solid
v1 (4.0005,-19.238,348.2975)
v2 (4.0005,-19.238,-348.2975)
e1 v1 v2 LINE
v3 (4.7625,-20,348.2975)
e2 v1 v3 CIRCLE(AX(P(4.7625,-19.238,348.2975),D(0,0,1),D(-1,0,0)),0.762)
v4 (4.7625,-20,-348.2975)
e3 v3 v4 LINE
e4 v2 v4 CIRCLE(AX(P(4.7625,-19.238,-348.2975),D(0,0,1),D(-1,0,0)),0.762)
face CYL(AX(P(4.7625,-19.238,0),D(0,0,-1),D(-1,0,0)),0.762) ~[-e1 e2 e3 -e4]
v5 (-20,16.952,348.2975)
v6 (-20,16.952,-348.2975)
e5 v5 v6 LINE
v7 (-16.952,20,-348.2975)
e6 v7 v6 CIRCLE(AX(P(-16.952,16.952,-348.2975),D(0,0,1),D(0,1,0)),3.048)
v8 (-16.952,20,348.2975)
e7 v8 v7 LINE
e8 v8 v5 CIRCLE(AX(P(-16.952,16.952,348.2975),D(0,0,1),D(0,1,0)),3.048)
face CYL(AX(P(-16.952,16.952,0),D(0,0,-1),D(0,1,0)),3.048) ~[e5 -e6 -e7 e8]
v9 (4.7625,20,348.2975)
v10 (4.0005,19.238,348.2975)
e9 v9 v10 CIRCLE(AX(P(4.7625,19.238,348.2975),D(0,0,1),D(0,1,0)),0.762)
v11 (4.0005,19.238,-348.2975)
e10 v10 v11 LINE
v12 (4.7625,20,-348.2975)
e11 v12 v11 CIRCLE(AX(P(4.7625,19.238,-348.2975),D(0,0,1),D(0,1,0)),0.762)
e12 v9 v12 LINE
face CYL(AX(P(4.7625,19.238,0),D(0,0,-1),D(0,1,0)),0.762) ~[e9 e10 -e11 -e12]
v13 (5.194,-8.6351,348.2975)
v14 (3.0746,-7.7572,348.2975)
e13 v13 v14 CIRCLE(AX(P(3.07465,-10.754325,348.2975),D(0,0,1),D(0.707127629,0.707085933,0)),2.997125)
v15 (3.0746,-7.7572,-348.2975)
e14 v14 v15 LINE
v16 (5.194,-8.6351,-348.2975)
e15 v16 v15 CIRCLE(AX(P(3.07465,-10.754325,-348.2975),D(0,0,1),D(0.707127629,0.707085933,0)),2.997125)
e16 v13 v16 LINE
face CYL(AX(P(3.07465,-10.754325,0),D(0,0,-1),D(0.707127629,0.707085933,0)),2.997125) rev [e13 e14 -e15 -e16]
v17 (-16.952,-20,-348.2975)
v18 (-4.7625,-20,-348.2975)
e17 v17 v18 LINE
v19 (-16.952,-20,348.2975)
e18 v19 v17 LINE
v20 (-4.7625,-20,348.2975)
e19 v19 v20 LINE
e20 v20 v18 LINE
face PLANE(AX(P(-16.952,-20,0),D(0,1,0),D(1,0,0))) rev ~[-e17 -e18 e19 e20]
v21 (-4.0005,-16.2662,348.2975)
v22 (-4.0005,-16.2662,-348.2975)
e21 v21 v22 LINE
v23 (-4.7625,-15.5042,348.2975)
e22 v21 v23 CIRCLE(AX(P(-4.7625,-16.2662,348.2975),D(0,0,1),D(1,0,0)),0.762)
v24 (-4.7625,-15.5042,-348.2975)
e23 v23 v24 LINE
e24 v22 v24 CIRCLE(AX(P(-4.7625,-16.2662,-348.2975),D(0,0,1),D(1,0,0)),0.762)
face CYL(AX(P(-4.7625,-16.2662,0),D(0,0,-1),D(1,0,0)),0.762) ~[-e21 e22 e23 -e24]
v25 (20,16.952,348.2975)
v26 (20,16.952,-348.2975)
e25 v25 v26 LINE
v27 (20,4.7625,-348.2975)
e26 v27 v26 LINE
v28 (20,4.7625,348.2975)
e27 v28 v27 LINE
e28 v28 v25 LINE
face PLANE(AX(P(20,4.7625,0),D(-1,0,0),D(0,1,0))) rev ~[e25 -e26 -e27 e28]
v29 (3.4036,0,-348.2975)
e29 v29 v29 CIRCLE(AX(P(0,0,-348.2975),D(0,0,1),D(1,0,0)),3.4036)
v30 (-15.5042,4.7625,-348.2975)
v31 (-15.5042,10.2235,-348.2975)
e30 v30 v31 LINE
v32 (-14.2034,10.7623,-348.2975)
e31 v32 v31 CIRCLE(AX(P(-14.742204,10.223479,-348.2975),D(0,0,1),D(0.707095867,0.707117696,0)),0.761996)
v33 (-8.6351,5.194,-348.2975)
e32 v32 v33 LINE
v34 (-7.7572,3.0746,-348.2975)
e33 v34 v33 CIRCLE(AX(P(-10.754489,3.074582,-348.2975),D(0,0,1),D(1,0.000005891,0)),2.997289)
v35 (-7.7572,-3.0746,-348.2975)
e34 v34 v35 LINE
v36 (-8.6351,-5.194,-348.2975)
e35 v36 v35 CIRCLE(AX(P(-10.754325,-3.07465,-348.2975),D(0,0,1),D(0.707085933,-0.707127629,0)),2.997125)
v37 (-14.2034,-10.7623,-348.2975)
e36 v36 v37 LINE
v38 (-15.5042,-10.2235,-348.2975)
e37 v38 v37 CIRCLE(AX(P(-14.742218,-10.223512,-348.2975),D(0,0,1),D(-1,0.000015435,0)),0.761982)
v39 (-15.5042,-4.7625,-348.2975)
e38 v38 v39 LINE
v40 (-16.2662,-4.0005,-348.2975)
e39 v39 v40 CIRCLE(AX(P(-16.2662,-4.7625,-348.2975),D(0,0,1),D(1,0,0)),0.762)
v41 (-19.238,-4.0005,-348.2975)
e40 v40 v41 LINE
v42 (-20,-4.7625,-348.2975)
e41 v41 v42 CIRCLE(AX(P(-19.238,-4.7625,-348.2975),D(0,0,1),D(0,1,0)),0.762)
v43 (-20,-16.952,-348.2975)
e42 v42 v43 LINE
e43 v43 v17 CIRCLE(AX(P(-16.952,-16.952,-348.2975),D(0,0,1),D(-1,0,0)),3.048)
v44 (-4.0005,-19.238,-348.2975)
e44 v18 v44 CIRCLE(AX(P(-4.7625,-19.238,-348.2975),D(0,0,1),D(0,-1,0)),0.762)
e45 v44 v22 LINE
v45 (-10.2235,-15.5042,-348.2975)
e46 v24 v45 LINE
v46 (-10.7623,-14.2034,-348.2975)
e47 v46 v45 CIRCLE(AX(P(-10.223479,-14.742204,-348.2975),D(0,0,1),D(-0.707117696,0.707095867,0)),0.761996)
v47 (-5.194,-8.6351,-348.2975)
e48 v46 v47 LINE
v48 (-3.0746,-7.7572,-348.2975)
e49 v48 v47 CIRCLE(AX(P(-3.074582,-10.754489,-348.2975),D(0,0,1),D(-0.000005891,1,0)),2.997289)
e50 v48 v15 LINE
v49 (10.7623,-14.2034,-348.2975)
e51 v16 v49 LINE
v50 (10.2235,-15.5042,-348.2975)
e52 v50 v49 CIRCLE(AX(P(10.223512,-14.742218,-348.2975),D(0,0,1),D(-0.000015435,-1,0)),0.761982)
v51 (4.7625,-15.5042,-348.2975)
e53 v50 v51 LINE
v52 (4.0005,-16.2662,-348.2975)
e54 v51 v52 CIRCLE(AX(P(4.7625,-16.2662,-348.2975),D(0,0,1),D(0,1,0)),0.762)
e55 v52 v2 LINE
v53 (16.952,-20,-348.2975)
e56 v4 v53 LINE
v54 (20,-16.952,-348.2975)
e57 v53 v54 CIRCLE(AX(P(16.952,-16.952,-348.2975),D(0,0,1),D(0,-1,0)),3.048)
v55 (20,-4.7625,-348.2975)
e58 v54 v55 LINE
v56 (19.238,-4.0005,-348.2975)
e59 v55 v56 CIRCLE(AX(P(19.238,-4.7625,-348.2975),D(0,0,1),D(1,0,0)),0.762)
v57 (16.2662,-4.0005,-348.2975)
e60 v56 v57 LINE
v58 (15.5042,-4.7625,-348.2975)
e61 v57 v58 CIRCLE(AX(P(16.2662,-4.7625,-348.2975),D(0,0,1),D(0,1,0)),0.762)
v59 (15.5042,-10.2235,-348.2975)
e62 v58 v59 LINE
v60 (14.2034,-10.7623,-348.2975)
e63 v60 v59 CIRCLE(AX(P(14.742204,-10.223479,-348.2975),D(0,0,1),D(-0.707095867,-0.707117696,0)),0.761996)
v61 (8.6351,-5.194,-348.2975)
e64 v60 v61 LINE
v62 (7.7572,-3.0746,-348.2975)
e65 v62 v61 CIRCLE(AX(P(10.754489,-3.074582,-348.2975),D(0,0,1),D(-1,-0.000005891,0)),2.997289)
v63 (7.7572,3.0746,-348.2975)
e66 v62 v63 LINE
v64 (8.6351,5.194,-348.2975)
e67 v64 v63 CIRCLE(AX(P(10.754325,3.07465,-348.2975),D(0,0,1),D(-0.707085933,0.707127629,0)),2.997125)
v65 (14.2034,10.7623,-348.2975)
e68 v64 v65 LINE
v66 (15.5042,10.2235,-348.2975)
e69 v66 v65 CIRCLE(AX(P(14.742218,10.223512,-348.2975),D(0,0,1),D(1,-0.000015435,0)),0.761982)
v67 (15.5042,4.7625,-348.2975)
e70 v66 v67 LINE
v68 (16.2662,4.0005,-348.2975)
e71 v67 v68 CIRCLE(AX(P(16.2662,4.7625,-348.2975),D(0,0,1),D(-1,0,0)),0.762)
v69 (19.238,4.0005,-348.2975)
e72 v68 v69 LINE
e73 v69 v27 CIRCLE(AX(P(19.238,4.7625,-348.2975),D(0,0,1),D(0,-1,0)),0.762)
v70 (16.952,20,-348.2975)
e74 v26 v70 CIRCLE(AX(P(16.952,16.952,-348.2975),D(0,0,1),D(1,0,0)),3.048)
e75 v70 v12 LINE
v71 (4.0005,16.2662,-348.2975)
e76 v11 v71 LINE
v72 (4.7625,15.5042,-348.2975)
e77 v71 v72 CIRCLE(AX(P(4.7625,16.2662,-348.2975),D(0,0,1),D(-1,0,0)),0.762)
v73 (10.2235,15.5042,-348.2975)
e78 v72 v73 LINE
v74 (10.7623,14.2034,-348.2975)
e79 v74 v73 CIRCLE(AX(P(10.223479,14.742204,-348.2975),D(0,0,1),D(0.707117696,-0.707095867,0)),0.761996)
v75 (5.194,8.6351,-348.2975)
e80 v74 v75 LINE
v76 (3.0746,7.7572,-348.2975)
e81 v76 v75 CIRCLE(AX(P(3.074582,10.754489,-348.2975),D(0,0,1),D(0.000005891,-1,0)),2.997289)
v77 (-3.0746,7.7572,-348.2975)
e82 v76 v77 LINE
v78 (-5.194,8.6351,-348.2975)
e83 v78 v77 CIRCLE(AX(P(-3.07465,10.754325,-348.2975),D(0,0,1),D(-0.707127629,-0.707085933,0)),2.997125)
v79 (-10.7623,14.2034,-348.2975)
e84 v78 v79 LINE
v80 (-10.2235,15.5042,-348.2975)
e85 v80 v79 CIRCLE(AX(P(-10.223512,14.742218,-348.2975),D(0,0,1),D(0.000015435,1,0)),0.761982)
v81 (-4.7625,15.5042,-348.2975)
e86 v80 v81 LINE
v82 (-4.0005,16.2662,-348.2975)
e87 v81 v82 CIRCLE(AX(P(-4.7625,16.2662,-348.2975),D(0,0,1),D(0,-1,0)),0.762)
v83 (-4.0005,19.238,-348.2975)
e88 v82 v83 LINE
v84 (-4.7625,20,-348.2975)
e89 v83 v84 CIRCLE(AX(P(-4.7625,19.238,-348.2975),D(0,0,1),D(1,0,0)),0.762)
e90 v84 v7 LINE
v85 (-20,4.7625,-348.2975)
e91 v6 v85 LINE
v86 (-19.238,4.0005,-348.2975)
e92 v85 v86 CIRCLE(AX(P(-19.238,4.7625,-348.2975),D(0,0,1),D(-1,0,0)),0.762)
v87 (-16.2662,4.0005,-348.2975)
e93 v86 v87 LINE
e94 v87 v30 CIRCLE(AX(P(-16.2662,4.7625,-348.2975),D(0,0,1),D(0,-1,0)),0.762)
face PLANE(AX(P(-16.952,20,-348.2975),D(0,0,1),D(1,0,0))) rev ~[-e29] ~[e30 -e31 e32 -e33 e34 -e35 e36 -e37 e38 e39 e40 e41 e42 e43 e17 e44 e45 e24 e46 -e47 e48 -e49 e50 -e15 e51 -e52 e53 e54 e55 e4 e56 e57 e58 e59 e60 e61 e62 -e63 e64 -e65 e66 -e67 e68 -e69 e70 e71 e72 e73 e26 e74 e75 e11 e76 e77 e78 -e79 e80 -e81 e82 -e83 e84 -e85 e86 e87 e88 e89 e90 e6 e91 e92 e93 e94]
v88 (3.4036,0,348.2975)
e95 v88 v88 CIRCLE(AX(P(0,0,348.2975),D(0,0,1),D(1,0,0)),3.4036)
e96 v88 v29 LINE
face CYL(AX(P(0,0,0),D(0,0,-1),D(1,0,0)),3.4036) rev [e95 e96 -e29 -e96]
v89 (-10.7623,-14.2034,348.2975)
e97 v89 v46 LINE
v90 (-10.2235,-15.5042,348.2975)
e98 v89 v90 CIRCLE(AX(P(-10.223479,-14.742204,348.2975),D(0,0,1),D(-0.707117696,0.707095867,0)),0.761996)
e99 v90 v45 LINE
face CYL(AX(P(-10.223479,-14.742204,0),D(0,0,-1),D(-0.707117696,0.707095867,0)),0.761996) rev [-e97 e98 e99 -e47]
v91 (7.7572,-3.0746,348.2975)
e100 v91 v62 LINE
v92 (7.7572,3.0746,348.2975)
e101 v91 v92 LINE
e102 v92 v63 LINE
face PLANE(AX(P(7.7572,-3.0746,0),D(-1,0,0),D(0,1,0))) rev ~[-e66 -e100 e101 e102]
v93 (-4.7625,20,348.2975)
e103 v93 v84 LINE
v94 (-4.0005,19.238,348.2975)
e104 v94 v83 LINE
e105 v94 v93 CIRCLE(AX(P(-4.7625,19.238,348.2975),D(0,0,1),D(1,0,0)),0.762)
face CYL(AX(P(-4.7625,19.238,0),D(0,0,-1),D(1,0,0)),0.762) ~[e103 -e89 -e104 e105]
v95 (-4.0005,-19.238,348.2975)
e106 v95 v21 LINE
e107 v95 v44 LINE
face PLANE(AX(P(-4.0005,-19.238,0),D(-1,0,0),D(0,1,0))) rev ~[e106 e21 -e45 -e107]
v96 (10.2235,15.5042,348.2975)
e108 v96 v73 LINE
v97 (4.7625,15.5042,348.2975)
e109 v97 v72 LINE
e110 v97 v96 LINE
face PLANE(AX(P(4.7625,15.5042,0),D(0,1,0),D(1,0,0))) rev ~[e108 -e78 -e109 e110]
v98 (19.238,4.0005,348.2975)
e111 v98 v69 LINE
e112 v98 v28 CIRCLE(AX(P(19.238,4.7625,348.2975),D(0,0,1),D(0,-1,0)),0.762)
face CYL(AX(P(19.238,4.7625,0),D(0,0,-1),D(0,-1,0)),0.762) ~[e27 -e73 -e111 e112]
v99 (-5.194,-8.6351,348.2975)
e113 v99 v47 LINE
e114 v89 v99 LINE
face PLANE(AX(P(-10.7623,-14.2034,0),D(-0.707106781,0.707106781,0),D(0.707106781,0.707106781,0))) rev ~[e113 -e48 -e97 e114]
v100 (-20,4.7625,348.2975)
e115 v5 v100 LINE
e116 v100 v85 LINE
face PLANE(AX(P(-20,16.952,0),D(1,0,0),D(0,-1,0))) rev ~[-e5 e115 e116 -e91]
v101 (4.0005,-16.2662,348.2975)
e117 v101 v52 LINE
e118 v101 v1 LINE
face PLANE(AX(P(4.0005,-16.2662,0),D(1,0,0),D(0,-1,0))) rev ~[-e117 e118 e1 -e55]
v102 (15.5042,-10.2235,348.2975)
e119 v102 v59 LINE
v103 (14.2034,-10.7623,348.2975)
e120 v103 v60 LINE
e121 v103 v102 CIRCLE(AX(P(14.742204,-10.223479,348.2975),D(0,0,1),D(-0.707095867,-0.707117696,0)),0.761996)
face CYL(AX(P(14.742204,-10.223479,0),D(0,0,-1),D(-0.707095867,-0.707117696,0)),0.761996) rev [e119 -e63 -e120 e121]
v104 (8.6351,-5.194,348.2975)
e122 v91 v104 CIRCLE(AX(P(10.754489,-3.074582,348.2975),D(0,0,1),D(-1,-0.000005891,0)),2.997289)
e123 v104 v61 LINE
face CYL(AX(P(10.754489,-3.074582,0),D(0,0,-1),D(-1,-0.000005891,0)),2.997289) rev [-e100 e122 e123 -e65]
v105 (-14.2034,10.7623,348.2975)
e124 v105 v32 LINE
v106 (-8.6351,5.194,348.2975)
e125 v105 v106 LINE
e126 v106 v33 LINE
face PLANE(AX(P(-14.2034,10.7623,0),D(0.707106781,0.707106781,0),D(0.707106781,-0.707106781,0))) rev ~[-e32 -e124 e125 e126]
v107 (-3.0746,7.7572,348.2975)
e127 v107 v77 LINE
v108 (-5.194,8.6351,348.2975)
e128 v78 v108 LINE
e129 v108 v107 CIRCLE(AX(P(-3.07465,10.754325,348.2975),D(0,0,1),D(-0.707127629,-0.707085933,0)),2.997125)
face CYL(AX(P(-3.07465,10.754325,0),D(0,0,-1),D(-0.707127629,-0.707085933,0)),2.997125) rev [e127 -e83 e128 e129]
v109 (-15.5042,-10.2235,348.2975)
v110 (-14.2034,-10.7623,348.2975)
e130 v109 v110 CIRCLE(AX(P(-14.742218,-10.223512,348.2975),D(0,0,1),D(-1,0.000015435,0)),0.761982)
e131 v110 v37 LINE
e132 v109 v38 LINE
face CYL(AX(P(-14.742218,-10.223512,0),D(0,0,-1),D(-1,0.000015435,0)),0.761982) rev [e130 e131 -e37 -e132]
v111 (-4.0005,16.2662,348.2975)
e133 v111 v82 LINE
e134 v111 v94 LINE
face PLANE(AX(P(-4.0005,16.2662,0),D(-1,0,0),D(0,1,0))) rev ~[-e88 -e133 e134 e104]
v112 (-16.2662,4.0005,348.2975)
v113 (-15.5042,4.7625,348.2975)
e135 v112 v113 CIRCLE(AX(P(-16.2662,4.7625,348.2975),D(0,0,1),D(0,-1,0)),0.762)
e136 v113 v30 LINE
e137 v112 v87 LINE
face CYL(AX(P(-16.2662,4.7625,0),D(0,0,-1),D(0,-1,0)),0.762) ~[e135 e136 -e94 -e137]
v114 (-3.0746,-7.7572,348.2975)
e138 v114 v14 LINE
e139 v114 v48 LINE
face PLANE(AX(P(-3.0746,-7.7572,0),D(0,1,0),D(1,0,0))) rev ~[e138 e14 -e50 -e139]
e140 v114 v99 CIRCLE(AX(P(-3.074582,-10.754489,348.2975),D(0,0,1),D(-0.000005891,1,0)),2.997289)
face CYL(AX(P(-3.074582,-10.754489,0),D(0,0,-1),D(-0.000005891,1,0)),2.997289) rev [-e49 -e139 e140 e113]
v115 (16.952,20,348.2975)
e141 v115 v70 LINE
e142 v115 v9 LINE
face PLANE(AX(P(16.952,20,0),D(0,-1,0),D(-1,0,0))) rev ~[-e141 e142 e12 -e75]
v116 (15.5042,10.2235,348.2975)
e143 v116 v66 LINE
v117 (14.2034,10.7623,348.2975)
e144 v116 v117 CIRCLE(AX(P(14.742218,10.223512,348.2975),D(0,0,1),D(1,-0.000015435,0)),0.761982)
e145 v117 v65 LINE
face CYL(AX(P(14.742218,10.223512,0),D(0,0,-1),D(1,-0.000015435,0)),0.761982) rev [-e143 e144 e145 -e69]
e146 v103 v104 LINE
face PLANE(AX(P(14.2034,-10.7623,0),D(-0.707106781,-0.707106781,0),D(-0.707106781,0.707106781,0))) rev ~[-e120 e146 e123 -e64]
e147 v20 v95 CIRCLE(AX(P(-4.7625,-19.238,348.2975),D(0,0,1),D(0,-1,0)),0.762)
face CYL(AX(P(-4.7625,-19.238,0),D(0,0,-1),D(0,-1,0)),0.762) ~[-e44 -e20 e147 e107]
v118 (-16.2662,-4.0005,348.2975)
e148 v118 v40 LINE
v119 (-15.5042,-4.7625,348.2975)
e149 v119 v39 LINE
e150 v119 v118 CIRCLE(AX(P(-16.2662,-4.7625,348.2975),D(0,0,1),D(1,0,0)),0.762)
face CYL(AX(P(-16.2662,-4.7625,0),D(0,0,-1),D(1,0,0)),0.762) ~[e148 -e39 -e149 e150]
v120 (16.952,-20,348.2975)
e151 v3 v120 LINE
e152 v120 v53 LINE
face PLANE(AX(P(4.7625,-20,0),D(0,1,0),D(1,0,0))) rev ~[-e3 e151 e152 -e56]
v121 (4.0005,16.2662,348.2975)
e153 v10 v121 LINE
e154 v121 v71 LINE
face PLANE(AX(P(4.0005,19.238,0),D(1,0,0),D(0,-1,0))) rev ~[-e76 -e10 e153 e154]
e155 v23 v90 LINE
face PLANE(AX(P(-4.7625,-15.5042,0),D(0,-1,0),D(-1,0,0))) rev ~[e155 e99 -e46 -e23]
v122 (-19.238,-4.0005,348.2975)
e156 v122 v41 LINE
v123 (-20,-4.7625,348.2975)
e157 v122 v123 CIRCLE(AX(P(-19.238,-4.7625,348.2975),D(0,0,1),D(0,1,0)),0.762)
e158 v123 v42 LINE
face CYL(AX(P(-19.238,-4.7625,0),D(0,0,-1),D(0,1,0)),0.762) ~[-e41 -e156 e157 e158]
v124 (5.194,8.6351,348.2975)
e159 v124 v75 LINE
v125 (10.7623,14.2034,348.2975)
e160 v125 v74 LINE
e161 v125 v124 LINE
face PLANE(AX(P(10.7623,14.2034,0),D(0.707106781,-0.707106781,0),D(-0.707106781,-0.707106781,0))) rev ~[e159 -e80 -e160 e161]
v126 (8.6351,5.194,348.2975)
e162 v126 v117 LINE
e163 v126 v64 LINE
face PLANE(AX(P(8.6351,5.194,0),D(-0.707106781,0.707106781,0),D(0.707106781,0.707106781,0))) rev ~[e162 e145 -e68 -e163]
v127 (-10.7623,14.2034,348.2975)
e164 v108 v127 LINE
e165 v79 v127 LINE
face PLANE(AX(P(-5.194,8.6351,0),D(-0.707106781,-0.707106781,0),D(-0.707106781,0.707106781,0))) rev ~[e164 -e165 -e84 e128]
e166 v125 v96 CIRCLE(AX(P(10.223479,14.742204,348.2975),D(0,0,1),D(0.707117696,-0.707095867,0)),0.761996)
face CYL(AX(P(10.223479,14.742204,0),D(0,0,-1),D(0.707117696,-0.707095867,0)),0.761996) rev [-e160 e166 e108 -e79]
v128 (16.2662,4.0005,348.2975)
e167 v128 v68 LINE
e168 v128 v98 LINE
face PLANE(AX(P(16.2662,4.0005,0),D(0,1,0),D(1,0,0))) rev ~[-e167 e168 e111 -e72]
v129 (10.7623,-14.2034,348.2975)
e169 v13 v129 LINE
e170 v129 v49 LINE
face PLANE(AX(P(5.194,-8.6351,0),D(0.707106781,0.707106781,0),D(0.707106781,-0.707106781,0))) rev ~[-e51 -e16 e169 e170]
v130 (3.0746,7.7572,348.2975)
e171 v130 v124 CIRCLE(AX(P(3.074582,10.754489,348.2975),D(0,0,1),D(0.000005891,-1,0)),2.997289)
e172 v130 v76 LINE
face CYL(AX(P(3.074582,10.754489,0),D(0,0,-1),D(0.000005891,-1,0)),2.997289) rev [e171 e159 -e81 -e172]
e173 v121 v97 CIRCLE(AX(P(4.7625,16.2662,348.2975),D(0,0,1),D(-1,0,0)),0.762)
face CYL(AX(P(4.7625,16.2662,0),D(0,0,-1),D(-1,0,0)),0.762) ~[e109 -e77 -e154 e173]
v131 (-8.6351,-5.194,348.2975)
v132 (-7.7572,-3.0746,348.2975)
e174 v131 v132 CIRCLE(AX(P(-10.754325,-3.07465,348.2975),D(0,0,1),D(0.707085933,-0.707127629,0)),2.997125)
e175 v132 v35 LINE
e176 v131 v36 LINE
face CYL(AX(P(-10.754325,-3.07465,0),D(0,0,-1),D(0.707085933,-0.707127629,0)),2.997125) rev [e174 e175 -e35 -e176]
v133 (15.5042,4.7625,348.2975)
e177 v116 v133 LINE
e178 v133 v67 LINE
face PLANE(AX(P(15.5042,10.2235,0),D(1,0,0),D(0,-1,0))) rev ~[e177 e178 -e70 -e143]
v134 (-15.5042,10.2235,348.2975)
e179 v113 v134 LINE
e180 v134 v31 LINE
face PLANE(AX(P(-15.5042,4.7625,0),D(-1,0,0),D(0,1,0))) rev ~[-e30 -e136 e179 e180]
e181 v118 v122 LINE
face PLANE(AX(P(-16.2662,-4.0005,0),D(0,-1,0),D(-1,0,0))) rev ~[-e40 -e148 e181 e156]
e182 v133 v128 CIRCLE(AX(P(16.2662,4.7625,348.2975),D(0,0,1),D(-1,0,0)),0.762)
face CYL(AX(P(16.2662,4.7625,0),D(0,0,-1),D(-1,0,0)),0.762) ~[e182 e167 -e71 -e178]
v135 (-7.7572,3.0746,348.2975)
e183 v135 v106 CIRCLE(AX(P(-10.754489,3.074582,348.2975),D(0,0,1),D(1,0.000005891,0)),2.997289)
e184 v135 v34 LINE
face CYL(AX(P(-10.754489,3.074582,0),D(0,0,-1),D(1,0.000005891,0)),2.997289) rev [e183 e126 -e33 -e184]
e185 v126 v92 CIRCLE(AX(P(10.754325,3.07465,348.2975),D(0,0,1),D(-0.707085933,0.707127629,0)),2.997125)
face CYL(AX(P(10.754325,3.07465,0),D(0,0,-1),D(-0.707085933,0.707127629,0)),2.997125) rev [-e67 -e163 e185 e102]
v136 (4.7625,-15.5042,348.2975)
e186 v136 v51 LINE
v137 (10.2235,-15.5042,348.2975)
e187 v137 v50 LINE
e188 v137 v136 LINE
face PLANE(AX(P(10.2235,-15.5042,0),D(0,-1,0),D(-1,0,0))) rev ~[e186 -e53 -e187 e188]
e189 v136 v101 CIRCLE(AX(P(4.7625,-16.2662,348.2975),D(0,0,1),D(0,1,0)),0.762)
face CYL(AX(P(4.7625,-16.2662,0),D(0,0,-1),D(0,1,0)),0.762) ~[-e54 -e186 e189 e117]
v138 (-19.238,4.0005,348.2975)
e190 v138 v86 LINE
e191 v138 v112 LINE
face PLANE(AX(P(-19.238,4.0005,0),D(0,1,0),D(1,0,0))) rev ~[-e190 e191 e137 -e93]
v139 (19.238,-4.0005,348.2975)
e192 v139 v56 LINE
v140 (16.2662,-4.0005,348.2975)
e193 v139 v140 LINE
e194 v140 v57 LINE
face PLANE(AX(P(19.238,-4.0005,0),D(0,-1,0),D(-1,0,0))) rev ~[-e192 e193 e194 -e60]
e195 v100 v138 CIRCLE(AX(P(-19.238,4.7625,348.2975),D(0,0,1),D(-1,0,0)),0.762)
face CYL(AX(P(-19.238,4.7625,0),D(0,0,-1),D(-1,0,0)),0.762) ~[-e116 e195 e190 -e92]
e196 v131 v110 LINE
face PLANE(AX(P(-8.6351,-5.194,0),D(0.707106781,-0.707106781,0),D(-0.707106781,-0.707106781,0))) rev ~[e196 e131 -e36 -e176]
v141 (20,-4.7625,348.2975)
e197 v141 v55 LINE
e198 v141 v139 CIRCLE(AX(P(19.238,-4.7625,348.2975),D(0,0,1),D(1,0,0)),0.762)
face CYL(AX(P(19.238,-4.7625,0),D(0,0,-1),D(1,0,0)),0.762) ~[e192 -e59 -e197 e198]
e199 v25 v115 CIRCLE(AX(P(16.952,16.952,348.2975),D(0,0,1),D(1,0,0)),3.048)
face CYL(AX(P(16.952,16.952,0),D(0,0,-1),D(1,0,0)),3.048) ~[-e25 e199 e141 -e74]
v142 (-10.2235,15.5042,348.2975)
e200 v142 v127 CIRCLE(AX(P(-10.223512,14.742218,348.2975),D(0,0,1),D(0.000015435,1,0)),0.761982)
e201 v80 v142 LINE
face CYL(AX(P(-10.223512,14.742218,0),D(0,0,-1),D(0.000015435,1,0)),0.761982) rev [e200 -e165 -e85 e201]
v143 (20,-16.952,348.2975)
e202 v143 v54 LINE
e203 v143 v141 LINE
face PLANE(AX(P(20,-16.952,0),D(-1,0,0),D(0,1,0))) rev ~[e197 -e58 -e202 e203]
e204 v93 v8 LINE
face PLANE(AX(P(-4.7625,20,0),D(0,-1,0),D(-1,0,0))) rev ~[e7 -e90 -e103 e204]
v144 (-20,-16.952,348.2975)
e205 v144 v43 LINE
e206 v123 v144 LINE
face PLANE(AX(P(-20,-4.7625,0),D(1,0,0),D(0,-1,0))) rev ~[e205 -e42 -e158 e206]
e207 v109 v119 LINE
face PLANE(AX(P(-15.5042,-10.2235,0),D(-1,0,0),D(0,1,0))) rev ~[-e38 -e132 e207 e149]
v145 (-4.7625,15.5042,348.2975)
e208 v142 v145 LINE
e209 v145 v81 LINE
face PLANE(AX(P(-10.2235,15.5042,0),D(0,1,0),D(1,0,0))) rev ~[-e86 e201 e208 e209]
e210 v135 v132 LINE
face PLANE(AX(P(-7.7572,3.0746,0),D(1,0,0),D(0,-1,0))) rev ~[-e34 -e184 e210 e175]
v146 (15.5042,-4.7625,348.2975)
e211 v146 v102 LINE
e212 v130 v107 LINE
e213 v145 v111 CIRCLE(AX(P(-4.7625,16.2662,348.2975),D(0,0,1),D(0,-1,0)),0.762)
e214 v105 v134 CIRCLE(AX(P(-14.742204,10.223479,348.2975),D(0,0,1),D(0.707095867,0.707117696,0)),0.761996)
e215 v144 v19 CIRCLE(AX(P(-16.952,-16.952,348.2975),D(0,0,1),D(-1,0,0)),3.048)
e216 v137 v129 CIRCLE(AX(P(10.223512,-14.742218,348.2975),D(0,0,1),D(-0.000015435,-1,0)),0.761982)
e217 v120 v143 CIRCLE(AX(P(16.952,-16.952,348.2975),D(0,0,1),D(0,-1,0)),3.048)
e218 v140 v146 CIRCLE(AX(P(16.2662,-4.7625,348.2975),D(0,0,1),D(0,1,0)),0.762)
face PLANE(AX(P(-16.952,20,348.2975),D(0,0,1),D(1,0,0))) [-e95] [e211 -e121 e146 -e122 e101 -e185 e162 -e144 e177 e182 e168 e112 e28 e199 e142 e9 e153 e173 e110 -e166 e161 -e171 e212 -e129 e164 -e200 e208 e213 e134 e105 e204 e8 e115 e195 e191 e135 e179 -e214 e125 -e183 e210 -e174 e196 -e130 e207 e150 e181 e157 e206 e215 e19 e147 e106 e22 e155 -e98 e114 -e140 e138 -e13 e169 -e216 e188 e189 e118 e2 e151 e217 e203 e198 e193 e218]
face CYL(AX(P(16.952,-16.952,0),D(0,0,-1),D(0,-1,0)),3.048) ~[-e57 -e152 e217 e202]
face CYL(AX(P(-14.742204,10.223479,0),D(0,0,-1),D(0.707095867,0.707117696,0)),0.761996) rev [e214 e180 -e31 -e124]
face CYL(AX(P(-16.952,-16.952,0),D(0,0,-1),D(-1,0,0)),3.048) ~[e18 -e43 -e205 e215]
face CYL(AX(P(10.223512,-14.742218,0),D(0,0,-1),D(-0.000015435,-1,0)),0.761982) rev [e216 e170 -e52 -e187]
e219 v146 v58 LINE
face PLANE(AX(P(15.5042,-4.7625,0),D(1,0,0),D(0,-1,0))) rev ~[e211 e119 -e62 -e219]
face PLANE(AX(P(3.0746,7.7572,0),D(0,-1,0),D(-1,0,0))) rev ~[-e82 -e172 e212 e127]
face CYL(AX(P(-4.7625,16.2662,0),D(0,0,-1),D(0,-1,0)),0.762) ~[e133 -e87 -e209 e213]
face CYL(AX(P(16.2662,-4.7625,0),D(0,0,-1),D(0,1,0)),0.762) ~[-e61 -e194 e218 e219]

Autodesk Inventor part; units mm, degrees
ref_plane "YZ Plane" through (0, 0, 0) normal (1, 0, 0) x (0, 1, 0)
ref_plane "XZ Plane" through (0, 0, 0) normal (0, 1, 0) x (-1, 0, 0)
ref_plane "XY Plane" through (0, 0, 0) normal (0, 0, 1) x (1, 0, 0)
sketch "Sketch1" plane through (-16.952, 20, 0) normal (0, 0, 1) x (1, 0, 0)
  arc A0 (11.758, -11.3649) -> (13.8774, -12.2428) centre (13.8774, -9.2456) ccw projected
  line L0 (11.758, -11.3649) -> (6.1897, -5.7966) projected
  arc A1 (6.7285, -4.4958) -> (6.1897, -5.7966) centre (6.7285, -5.2578) ccw projected
  line L1 (6.7285, -4.4958) -> (12.1895, -4.4958) projected
  arc A2 (12.1895, -4.4958) -> (12.9515, -3.7338) centre (12.1895, -3.7338) ccw projected
  line L2 (12.9515, -3.7338) -> (12.9515, -0.762) projected
  arc A3 (12.9515, -0.762) -> (12.1895, 0) centre (12.1895, -0.762) ccw projected
  line L3 (12.1895, 0) -> (0, 0) projected
  arc A4 (0, 0) -> (-3.048, -3.048) centre (0, -3.048) ccw projected
  line L4 (-3.048, -3.048) -> (-3.048, -15.2375) projected
  arc A5 (-3.048, -15.2375) -> (-2.286, -15.9995) centre (-2.286, -15.2375) ccw projected
  line L5 (-2.286, -15.9995) -> (0.6858, -15.9995) projected
  arc A6 (0.6858, -15.9995) -> (1.4478, -15.2375) centre (0.6858, -15.2375) ccw projected
  line L6 (1.4478, -15.2375) -> (1.4478, -9.7765) projected
  arc A7 (2.7486, -9.2377) -> (1.4478, -9.7765) centre (2.2098, -9.7765) ccw projected
  line L7 (2.7486, -9.2377) -> (8.3169, -14.806) projected
  arc A8 (9.1948, -16.9254) -> (8.3169, -14.806) centre (6.1976, -16.9254) ccw projected
  line L8 (9.1948, -16.9254) -> (9.1948, -23.0746) projected
  arc A9 (8.3169, -25.194) -> (9.1948, -23.0746) centre (6.1976, -23.0746) ccw projected
  line L9 (8.3169, -25.194) -> (2.7486, -30.7623) projected
  arc A10 (1.4478, -30.2235) -> (2.7486, -30.7623) centre (2.2098, -30.2235) ccw projected
  line L10 (1.4478, -30.2235) -> (1.4478, -24.7625) projected
  arc A11 (1.4478, -24.7625) -> (0.6858, -24.0005) centre (0.6858, -24.7625) ccw projected
  line L11 (0.6858, -24.0005) -> (-2.286, -24.0005) projected
  arc A12 (-2.286, -24.0005) -> (-3.048, -24.7625) centre (-2.286, -24.7625) ccw projected
  line L12 (-3.048, -24.7625) -> (-3.048, -36.952) projected
  arc A13 (-3.048, -36.952) -> (0, -40) centre (0, -36.952) ccw projected
  line L13 (0, -40) -> (12.1895, -40) projected
  arc A14 (12.1895, -40) -> (12.9515, -39.238) centre (12.1895, -39.238) ccw projected
  line L14 (12.9515, -39.238) -> (12.9515, -36.2662) projected
  arc A15 (12.9515, -36.2662) -> (12.1895, -35.5042) centre (12.1895, -36.2662) ccw projected
  line L15 (12.1895, -35.5042) -> (6.7285, -35.5042) projected
  arc A16 (6.1897, -34.2034) -> (6.7285, -35.5042) centre (6.7285, -34.7422) ccw projected
  line L16 (6.1897, -34.2034) -> (11.758, -28.6351) projected
  arc A17 (13.8774, -27.7572) -> (11.758, -28.6351) centre (13.8774, -30.7544) ccw projected
  line L17 (13.8774, -27.7572) -> (20.0266, -27.7572) projected
  arc A18 (22.146, -28.6351) -> (20.0266, -27.7572) centre (20.0266, -30.7544) ccw projected
  line L18 (22.146, -28.6351) -> (27.7143, -34.2034) projected
  arc A19 (27.1755, -35.5042) -> (27.7143, -34.2034) centre (27.1755, -34.7422) ccw projected
  line L19 (27.1755, -35.5042) -> (21.7145, -35.5042) projected
  arc A20 (21.7145, -35.5042) -> (20.9525, -36.2662) centre (21.7145, -36.2662) ccw projected
  line L20 (20.9525, -36.2662) -> (20.9525, -39.238) projected
  arc A21 (20.9525, -39.238) -> (21.7145, -40) centre (21.7145, -39.238) ccw projected
  line L21 (21.7145, -40) -> (33.904, -40) projected
  arc A22 (33.904, -40) -> (36.952, -36.952) centre (33.904, -36.952) ccw projected
  line L22 (36.952, -36.952) -> (36.952, -24.7625) projected
  arc A23 (36.952, -24.7625) -> (36.19, -24.0005) centre (36.19, -24.7625) ccw projected
  line L23 (36.19, -24.0005) -> (33.2182, -24.0005) projected
  arc A24 (33.2182, -24.0005) -> (32.4562, -24.7625) centre (33.2182, -24.7625) ccw projected
  line L24 (32.4562, -24.7625) -> (32.4562, -30.2235) projected
  arc A25 (31.1554, -30.7623) -> (32.4562, -30.2235) centre (31.6942, -30.2235) ccw projected
  line L25 (31.1554, -30.7623) -> (25.5871, -25.194) projected
  arc A26 (24.7092, -23.0746) -> (25.5871, -25.194) centre (27.7064, -23.0746) ccw projected
  line L26 (24.7092, -23.0746) -> (24.7092, -16.9254) projected
  arc A27 (25.5871, -14.806) -> (24.7092, -16.9254) centre (27.7064, -16.9254) ccw projected
  line L27 (25.5871, -14.806) -> (31.1554, -9.2377) projected
  arc A28 (32.4562, -9.7765) -> (31.1554, -9.2377) centre (31.6942, -9.7765) ccw projected
  line L28 (32.4562, -9.7765) -> (32.4562, -15.2375) projected
  arc A29 (32.4562, -15.2375) -> (33.2182, -15.9995) centre (33.2182, -15.2375) ccw projected
  line L29 (33.2182, -15.9995) -> (36.19, -15.9995) projected
  arc A30 (36.19, -15.9995) -> (36.952, -15.2375) centre (36.19, -15.2375) ccw projected
  line L30 (36.952, -15.2375) -> (36.952, -3.048) projected
  arc A31 (36.952, -3.048) -> (33.904, 0) centre (33.904, -3.048) ccw projected
  line L31 (33.904, 0) -> (21.7145, 0) projected
  arc A32 (21.7145, 0) -> (20.9525, -0.762) centre (21.7145, -0.762) ccw projected
  line L32 (20.9525, -0.762) -> (20.9525, -3.7338) projected
  arc A33 (20.9525, -3.7338) -> (21.7145, -4.4958) centre (21.7145, -3.7338) ccw projected
  line L33 (21.7145, -4.4958) -> (27.1755, -4.4958) projected
  arc A34 (27.7143, -5.7966) -> (27.1755, -4.4958) centre (27.1755, -5.2578) ccw projected
  line L34 (27.7143, -5.7966) -> (22.146, -11.3649) projected
  arc A35 (20.0266, -12.2428) -> (22.146, -11.3649) centre (20.0266, -9.2456) ccw projected
  line L35 (20.0266, -12.2428) -> (13.8774, -12.2428) projected
  circle A36 centre (16.952, -20) radius 3.4036 projected
extrude "Extrusion1" add sketch "Sketch1" along normal mid plane 696.595
